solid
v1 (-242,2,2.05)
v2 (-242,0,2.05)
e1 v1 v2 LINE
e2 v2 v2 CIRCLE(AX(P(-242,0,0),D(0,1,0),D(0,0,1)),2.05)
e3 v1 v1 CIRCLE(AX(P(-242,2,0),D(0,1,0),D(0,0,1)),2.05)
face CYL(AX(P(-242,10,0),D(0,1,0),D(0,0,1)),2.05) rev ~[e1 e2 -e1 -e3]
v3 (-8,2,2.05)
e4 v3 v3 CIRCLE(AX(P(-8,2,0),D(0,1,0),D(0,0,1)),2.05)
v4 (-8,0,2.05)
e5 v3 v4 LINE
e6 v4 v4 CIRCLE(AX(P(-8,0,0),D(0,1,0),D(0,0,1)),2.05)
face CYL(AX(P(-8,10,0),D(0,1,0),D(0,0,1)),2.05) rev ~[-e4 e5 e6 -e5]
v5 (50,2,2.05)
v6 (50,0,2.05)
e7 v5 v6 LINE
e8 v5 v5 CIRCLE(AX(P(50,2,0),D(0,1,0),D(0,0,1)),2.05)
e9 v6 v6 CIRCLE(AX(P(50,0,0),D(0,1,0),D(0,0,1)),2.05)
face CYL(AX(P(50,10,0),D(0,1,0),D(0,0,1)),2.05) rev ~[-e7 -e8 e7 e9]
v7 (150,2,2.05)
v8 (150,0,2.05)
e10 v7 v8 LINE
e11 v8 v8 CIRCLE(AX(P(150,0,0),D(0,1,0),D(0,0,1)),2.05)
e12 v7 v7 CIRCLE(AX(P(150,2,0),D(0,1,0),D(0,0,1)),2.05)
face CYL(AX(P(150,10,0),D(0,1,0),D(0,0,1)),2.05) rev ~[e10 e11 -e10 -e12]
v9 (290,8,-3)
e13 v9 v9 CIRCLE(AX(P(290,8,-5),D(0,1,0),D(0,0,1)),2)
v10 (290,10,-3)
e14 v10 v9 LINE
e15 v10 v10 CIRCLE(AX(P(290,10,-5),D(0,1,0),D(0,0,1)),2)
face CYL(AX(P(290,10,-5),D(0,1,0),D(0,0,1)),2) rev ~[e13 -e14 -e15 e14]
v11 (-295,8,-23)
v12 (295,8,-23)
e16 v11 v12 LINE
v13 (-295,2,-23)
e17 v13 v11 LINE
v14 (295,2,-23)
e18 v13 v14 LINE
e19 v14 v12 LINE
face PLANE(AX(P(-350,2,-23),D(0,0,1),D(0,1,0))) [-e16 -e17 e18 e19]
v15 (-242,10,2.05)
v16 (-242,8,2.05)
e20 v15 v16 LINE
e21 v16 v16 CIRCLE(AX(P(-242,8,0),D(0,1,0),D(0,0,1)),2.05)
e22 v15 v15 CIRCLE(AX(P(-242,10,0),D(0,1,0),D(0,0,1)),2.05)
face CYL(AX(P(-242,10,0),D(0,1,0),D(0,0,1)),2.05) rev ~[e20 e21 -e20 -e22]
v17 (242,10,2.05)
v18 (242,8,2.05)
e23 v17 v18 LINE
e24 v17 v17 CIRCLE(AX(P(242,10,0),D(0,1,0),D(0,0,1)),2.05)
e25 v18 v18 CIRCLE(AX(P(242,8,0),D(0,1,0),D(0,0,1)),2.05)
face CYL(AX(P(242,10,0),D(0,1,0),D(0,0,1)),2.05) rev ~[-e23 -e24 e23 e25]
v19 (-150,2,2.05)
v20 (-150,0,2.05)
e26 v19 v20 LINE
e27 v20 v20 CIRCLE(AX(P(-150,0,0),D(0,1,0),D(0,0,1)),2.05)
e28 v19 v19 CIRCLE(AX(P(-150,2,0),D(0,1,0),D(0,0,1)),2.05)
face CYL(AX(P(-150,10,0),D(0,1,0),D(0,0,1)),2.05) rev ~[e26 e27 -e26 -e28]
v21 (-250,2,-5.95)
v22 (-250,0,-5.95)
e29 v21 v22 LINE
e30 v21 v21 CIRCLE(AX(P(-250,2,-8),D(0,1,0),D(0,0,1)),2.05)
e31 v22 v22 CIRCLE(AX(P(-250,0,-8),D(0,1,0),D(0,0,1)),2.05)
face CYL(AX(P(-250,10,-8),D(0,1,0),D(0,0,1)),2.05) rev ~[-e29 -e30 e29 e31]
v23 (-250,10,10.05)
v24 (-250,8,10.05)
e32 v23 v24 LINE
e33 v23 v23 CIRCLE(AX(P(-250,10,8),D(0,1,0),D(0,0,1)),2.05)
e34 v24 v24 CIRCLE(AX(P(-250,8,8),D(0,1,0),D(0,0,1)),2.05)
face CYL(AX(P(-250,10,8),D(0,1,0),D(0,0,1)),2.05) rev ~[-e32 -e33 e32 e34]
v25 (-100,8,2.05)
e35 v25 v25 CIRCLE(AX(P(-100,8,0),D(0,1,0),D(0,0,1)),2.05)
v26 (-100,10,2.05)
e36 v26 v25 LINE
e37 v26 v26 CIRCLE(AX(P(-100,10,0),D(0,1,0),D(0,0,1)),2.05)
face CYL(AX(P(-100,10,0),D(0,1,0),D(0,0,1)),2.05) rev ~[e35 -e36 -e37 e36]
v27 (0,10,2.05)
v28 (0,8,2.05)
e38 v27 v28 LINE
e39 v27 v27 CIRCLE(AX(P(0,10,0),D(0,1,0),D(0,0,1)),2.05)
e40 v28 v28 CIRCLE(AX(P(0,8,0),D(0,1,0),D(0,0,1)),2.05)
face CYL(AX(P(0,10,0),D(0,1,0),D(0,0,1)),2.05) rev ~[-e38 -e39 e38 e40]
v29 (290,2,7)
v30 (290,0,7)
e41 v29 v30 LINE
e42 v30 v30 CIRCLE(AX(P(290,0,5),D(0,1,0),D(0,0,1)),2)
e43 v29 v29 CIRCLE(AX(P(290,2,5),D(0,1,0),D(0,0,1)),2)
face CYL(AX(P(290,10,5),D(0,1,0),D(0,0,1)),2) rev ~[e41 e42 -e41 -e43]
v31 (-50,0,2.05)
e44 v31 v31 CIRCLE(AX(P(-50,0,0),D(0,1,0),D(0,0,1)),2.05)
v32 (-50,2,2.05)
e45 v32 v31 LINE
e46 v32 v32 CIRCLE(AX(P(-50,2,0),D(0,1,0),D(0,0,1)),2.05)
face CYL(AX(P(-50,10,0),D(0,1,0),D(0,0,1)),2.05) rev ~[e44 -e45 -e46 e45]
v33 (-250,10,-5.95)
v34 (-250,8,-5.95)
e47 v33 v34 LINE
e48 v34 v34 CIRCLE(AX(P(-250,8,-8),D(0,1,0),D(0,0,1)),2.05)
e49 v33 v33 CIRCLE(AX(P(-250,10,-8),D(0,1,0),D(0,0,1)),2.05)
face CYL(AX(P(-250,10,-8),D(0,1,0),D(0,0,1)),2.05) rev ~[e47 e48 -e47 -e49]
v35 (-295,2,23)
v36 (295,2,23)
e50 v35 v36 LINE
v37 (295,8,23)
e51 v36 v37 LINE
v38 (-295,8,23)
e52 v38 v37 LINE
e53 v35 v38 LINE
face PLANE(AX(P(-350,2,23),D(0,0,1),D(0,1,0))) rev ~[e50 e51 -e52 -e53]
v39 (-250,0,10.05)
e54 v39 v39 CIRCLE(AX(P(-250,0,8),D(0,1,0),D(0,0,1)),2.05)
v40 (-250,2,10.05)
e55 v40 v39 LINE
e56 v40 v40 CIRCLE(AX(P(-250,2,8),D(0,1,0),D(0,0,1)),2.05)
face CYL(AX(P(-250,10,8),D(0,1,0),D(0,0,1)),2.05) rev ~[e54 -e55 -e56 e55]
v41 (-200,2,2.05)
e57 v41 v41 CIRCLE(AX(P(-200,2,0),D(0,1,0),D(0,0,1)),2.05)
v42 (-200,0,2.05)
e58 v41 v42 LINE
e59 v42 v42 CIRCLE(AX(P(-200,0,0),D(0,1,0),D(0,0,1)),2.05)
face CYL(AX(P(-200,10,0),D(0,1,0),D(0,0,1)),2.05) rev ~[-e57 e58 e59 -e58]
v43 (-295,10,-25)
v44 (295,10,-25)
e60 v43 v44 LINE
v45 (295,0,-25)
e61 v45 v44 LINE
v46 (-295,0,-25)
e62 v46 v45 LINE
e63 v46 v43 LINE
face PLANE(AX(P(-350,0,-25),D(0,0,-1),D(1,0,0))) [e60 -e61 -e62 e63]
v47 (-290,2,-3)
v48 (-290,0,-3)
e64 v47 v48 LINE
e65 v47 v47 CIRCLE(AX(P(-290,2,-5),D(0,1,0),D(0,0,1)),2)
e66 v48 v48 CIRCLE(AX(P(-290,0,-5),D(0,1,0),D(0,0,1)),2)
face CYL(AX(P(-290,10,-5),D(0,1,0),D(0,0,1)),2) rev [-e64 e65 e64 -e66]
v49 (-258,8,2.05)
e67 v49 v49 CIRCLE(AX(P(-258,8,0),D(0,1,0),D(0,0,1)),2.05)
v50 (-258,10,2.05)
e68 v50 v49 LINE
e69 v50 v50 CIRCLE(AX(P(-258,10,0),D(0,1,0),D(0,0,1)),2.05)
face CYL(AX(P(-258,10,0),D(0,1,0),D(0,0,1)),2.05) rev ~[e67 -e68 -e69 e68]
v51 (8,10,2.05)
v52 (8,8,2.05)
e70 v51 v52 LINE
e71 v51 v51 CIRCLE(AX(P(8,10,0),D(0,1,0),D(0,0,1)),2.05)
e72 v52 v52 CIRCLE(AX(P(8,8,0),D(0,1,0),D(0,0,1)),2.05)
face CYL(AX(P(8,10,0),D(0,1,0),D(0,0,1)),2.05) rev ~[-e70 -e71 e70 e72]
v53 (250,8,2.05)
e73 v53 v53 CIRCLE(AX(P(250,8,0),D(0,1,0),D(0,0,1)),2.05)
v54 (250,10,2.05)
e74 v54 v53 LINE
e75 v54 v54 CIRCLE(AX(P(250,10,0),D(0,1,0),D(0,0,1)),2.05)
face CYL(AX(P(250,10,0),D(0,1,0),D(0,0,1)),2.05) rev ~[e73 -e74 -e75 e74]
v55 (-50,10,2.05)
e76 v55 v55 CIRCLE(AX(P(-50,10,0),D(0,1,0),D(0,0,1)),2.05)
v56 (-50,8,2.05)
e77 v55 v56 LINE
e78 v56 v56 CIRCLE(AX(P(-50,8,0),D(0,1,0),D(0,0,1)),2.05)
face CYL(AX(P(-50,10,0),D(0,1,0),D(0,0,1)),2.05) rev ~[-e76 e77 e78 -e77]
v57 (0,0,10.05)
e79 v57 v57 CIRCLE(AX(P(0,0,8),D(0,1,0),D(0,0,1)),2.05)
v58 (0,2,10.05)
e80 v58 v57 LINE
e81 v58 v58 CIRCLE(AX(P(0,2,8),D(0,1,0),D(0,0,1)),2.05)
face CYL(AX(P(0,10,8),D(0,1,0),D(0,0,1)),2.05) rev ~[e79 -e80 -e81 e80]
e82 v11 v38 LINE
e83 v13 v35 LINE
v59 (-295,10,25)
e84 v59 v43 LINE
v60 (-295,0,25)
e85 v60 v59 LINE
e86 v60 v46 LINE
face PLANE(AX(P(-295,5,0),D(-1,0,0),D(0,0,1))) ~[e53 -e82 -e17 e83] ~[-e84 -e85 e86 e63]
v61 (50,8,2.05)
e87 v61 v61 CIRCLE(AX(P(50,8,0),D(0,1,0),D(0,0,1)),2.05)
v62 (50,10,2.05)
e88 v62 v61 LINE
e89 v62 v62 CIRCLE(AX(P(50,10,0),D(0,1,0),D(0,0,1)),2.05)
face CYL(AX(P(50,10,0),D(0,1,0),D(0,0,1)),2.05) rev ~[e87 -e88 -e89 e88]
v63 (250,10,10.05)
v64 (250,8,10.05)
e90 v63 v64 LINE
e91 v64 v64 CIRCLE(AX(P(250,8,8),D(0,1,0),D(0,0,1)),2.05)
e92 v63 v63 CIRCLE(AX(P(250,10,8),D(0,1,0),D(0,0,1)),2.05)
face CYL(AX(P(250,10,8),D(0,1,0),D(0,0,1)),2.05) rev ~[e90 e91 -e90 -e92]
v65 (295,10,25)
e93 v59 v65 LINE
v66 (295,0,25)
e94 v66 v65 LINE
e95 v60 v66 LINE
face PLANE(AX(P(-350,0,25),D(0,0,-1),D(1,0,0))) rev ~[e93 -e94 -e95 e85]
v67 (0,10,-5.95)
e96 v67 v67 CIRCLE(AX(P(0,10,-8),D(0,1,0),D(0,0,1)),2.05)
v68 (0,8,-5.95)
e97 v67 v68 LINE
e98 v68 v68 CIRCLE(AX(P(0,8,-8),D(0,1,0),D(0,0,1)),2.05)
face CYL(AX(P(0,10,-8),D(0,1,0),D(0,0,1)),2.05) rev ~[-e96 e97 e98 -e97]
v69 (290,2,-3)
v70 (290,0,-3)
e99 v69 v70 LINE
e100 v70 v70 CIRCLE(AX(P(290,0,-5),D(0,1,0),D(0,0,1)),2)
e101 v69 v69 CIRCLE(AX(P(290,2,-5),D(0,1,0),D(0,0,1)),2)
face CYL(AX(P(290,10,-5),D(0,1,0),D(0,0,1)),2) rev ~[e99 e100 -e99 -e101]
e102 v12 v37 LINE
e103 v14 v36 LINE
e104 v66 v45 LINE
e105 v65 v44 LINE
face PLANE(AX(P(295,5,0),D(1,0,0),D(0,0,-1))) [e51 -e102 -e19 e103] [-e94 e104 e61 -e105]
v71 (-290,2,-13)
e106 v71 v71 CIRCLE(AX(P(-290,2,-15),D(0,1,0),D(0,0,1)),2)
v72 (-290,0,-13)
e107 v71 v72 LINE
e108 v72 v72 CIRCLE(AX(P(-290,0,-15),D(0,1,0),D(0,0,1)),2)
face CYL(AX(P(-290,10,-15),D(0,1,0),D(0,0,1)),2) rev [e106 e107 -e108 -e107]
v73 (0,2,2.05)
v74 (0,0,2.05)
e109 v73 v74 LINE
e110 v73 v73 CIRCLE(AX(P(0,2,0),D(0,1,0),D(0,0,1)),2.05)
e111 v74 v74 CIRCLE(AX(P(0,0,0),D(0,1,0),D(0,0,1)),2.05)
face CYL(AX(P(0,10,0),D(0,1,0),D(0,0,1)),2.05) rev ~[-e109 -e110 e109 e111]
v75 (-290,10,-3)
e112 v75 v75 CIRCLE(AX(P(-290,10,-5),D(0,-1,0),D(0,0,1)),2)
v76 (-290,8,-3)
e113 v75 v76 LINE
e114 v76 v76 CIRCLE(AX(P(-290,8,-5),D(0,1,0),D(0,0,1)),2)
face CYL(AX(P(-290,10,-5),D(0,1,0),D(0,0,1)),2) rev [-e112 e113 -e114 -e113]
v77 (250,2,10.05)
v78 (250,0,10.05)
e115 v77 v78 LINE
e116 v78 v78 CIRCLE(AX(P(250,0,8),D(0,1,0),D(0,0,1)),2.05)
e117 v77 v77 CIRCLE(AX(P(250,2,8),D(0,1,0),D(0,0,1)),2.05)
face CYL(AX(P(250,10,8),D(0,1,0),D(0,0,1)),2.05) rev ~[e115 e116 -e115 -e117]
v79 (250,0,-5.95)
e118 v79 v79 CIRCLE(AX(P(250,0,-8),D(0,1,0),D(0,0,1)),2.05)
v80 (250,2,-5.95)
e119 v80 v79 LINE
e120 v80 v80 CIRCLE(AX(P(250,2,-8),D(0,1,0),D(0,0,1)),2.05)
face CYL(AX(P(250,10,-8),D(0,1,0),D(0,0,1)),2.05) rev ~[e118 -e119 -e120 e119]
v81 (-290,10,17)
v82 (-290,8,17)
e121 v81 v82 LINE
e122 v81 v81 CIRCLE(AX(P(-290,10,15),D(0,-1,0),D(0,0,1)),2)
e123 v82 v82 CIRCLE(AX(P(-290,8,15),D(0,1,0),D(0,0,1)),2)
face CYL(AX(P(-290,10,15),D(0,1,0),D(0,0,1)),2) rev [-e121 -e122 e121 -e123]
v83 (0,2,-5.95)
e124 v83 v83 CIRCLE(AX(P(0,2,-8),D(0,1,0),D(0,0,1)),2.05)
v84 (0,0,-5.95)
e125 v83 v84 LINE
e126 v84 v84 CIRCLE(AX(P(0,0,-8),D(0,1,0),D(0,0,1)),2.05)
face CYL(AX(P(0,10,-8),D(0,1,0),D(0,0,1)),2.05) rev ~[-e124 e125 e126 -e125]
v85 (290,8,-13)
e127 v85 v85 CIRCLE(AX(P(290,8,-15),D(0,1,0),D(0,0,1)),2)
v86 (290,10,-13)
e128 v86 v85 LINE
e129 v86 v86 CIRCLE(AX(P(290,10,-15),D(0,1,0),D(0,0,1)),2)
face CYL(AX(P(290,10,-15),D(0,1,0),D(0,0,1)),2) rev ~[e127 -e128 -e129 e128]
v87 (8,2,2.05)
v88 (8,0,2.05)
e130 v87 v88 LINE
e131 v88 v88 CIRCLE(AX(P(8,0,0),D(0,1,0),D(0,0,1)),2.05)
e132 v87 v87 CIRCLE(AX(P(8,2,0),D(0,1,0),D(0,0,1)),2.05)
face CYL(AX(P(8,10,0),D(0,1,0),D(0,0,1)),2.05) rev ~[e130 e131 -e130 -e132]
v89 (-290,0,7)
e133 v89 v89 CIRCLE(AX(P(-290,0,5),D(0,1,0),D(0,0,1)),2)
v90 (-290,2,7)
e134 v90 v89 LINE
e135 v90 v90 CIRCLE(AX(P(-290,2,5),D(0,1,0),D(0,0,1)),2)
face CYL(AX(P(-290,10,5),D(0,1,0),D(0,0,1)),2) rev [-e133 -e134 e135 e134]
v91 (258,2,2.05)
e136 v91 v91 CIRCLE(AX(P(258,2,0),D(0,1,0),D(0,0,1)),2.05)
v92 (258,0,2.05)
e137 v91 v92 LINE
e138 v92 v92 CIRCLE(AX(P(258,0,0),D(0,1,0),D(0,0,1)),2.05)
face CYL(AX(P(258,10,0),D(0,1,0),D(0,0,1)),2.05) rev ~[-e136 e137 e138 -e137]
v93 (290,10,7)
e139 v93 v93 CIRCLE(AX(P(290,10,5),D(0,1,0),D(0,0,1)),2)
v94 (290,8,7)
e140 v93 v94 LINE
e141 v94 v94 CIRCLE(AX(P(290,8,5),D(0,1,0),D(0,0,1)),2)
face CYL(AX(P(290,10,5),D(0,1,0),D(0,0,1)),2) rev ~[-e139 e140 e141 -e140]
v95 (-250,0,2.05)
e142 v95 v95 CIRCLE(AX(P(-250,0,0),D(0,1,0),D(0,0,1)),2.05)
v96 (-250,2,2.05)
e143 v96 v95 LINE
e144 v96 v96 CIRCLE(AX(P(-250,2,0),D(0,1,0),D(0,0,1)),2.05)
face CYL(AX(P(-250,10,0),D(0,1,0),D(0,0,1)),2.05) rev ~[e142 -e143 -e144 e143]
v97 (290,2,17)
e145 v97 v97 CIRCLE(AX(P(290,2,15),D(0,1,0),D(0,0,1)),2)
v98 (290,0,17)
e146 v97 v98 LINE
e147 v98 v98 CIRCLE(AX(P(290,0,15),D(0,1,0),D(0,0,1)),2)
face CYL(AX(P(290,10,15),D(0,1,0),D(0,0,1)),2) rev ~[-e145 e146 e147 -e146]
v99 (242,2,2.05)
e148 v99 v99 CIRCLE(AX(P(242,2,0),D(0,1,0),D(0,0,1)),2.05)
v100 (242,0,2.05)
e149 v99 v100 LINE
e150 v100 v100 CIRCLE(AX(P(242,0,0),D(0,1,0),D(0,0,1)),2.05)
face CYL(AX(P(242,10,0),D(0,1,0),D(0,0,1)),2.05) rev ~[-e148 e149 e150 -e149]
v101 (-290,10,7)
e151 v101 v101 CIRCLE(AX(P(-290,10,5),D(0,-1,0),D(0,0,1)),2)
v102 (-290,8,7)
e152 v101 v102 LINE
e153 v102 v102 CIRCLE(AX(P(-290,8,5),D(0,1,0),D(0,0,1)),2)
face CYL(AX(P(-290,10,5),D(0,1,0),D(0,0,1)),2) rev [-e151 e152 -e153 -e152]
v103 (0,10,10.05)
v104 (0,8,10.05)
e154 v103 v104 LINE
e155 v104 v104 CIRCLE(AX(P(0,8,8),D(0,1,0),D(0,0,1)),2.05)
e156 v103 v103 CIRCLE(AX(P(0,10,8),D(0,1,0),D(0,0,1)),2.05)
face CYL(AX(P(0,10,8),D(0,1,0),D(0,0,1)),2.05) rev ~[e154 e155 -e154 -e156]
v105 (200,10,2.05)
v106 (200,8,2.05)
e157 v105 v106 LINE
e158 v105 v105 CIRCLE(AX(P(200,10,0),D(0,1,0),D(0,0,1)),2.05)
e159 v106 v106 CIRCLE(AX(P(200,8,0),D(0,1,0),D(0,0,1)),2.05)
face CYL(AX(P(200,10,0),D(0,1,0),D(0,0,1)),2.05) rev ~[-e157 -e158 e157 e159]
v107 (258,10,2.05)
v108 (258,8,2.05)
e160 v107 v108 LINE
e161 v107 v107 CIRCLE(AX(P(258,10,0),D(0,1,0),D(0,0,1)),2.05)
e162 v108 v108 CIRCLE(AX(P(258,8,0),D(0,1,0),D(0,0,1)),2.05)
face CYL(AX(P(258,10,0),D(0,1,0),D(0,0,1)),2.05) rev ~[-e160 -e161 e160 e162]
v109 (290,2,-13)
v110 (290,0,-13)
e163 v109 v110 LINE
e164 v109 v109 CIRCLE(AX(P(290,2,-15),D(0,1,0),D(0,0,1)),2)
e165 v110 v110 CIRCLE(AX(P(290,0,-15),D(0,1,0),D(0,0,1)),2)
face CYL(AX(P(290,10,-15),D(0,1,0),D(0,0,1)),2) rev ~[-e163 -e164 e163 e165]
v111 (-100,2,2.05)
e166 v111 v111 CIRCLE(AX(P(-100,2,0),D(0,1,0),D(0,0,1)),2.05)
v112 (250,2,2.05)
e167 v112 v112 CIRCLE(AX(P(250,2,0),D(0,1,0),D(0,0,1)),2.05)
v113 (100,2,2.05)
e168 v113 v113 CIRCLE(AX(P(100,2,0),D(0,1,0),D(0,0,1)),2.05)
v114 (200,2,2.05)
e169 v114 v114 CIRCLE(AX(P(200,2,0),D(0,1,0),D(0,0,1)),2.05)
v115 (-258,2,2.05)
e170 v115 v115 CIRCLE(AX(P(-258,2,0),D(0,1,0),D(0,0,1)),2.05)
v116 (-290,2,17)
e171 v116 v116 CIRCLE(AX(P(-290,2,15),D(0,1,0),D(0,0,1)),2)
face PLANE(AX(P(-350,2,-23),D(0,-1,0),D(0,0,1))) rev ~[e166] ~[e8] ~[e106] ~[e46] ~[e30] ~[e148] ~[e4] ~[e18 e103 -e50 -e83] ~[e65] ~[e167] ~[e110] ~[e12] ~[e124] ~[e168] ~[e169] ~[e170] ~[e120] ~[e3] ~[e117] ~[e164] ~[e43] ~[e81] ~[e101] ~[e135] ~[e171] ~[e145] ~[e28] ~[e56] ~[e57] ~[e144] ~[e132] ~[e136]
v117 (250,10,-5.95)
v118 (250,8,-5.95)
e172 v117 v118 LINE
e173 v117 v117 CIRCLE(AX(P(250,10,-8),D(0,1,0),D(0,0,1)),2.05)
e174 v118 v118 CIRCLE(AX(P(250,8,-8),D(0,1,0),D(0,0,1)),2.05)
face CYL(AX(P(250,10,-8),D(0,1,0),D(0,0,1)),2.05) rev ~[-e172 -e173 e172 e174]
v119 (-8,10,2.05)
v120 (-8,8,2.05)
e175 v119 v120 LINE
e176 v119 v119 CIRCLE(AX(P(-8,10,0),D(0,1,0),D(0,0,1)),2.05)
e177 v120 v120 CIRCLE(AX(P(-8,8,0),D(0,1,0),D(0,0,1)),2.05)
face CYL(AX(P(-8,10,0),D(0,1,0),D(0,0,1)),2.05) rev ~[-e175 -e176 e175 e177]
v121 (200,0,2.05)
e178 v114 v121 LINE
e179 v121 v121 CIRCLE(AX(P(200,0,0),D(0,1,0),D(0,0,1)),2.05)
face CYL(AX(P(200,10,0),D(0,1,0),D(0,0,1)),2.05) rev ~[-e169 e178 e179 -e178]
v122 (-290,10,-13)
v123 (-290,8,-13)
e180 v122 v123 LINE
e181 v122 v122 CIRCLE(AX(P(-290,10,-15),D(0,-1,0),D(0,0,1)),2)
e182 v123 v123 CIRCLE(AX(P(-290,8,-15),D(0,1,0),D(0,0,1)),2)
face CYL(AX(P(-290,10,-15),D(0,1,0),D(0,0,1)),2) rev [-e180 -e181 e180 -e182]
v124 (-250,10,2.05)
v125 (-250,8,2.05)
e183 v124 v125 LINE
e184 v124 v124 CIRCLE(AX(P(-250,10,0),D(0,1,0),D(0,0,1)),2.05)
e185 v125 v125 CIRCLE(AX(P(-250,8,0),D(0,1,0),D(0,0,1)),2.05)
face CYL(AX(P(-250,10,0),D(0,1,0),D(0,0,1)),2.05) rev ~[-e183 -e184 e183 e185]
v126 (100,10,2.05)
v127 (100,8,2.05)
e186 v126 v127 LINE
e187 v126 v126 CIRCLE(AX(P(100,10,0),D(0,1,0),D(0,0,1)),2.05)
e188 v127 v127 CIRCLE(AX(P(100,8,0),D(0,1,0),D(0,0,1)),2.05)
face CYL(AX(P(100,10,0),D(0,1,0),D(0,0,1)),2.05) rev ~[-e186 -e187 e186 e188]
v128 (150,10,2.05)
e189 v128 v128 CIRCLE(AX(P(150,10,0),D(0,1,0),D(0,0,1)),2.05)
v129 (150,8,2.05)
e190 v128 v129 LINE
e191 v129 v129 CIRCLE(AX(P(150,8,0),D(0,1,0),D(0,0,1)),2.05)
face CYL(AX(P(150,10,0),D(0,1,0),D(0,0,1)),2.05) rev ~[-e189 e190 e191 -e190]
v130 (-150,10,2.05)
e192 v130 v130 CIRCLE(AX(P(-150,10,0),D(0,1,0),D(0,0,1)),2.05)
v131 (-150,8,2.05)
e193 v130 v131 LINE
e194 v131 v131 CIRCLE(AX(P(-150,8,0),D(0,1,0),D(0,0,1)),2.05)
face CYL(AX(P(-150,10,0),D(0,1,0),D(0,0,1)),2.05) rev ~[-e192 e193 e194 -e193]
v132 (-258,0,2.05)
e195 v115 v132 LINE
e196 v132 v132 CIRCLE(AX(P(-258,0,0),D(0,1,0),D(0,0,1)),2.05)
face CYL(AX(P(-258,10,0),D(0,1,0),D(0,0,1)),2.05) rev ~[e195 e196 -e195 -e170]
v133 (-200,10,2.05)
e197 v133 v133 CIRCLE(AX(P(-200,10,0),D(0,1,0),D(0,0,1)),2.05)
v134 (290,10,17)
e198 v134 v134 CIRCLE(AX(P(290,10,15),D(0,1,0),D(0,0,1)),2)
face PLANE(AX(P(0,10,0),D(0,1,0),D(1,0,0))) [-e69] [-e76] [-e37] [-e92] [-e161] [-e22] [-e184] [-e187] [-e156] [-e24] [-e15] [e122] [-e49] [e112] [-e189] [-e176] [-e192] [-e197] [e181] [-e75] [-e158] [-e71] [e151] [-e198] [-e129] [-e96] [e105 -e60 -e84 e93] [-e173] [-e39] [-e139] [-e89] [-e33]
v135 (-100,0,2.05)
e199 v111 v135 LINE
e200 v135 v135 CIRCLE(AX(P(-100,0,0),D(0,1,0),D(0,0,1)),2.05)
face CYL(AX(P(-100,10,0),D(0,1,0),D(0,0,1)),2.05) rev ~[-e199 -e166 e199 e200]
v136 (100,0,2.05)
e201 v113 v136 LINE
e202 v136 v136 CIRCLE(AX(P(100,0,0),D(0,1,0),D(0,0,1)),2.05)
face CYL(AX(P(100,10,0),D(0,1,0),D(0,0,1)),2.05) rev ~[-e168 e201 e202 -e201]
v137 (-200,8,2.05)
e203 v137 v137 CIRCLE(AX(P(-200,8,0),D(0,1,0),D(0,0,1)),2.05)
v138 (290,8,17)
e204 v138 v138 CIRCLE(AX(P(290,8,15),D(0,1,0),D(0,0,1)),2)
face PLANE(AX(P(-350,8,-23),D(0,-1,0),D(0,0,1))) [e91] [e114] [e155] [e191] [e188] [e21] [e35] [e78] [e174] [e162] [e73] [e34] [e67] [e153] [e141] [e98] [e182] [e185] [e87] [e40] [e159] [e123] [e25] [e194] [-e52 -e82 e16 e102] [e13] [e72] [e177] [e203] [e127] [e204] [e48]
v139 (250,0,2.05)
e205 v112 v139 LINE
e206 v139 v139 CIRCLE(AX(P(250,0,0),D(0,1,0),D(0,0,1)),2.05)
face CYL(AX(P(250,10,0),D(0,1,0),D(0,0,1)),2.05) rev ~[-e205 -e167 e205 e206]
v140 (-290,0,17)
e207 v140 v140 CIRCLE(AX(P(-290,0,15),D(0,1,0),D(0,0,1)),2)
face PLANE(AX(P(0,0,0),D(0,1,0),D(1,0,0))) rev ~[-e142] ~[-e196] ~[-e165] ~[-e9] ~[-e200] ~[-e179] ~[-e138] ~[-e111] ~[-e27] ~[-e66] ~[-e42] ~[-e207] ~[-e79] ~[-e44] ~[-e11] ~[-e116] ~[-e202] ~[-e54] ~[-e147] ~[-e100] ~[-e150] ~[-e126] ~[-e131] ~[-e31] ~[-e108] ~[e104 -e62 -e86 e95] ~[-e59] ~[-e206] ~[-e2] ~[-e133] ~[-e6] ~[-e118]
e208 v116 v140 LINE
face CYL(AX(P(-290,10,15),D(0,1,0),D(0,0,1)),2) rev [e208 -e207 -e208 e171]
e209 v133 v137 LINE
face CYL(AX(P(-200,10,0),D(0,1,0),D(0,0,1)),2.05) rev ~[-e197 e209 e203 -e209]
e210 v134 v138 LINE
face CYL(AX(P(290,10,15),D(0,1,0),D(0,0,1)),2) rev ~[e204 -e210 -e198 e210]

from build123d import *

# Parameters (mm, degrees)
SKETCH_1_W          = 700
SKETCH_1_H          = 50
EXTRUDE_1_DEPTH     = 10
SKETCH_2_R          = 2.05
CUT_EXTRUDE_2_DEPTH = 352.034186369
SKETCH_3_R          = 2.05
CUT_EXTRUDE_3_DEPTH = 352.034186369
SKETCH_4_W          = 46
SKETCH_4_H          = 6
CUT_EXTRUDE_4_DEPTH = 701.51766573
SKETCH_6_W          = 50
SKETCH_6_H          = 10
CUT_EXTRUDE_6_DEPTH = 5
SKETCH_7_R          = 2
CUT_EXTRUDE_7_DEPTH = 347.04912946
SKETCH_8_W          = 50
SKETCH_8_H          = 10
CUT_EXTRUDE_8_DEPTH = 50


with BuildPart() as part:
    # 草图1 → 凸台-拉伸1 (new body)
    with BuildSketch(Plane(origin=(0, 0, 0), x_dir=(1, 0, 0), z_dir=(0, 1, 0))):
        Rectangle(SKETCH_1_W, SKETCH_1_H)
    extrude(amount=EXTRUDE_1_DEPTH)

    # 草图2 → 切除-拉伸2 (cut, through all)
    with BuildSketch(Plane(origin=(0, 10, 0), x_dir=(1, 0, 0), z_dir=(0, 1, 0))):
        with Locations(Location((-300, 0, 0), (0, 0, 270))):
            Circle(SKETCH_2_R)
        with Locations(Location((-250, 0, 0), (0, 0, 270))):
            Circle(SKETCH_2_R)
        with Locations(Location((-200, 0, 0), (0, 0, 270))):
            Circle(SKETCH_2_R)
        with Locations(Location((-150, 0, 0), (0, 0, 270))):
            Circle(SKETCH_2_R)
        with Locations(Location((-100, 0, 0), (0, 0, 270))):
            Circle(SKETCH_2_R)
        with Locations(Location((-50, 0, 0), (0, 0, 270))):
            Circle(SKETCH_2_R)
        with Locations(Location((0, 0, 0), (0, 0, 270))):
            Circle(SKETCH_2_R)
        with Locations(Location((50, 0, 0), (0, 0, 270))):
            Circle(SKETCH_2_R)
        with Locations(Location((100, 0, 0), (0, 0, 270))):
            Circle(SKETCH_2_R)
        with Locations(Location((150, 0, 0), (0, 0, 270))):
            Circle(SKETCH_2_R)
        with Locations(Location((200, 0, 0), (0, 0, 270))):
            Circle(SKETCH_2_R)
        with Locations(Location((250, 0, 0), (0, 0, 270))):
            Circle(SKETCH_2_R)
        with Locations(Location((300, 0, 0), (0, 0, 270))):
            Circle(SKETCH_2_R)
    extrude(amount=-CUT_EXTRUDE_2_DEPTH, mode=Mode.SUBTRACT)

    # 草图3 → 切除-拉伸3 (cut, through all)
    with BuildSketch(Plane(origin=(0, 10, 0), x_dir=(1, 0, 0), z_dir=(0, 1, 0))):
        with Locations(Location((-242, 0, 0), (0, 0, 270))):
            Circle(SKETCH_3_R)
        with Locations(Location((-258, 0, 0), (0, 0, 270))):
            Circle(SKETCH_3_R)
        with Locations(Location((-8, 0, 0), (0, 0, 270))):
            Circle(SKETCH_3_R)
        with Locations(Location((8, 0, 0), (0, 0, 270))):
            Circle(SKETCH_3_R)
        with Locations(Location((242, 0, 0), (0, 0, 270))):
            Circle(SKETCH_3_R)
        with Locations(Location((258, 0, 0), (0, 0, 270))):
            Circle(SKETCH_3_R)
        with Locations(Location((-250, 8, 0), (0, 0, 270))):
            Circle(SKETCH_3_R)
        with Locations(Location((-250, -8, 0), (0, 0, 270))):
            Circle(SKETCH_3_R)
        with Locations(Location((0, 8, 0), (0, 0, 270))):
            Circle(SKETCH_3_R)
        with Locations(Location((0, -8, 0), (0, 0, 270))):
            Circle(SKETCH_3_R)
        with Locations(Location((250, 8, 0), (0, 0, 270))):
            Circle(SKETCH_3_R)
        with Locations(Location((250, -8, 0), (0, 0, 270))):
            Circle(SKETCH_3_R)
    extrude(amount=-CUT_EXTRUDE_3_DEPTH, mode=Mode.SUBTRACT)

    # 草图4 → 切除-拉伸4 (cut, through all)
    with BuildSketch(Plane.ZY.offset(350)):
        with Locations((0, 5)):
            Rectangle(SKETCH_4_W, SKETCH_4_H)
    extrude(amount=-CUT_EXTRUDE_4_DEPTH, mode=Mode.SUBTRACT)

    # 草图6 → 切除-拉伸6 (cut)
    with BuildSketch(Plane(origin=(350, 0, 0), x_dir=(0, 0, -1), z_dir=(1, 0, 0))):
        with Locations((0, 5)):
            Rectangle(SKETCH_6_W, SKETCH_6_H)
    cut_extrude_6 = extrude(amount=-CUT_EXTRUDE_6_DEPTH, mode=Mode.SUBTRACT)

    # 镜向1: 切除-拉伸6 across plane
    add(cut_extrude_6.mirror(Plane(origin=(0, 0, 0), x_dir=(0, 0, 1), z_dir=(1, 0, 0))), mode=Mode.SUBTRACT)

    # 草图7 → 切除-拉伸7 (cut, through all)
    with BuildSketch(Plane(origin=(0, 10, 0), x_dir=(1, 0, 0), z_dir=(0, 1, 0))):
        with Locations(Location((340, 15, 0), (0, 0, 270))):
            Circle(SKETCH_7_R)
        with Locations(Location((340, 5, 0), (0, 0, 270))):
            Circle(SKETCH_7_R)
        with Locations(Location((340, -5, 0), (0, 0, 270))):
            Circle(SKETCH_7_R)
        with Locations(Location((340, -15, 0), (0, 0, 270))):
            Circle(SKETCH_7_R)
        with Locations(Location((290, 5, 0), (0, 0, 270))):
            Circle(SKETCH_7_R)
        with Locations(Location((290, 15, 0), (0, 0, 270))):
            Circle(SKETCH_7_R)
        with Locations(Location((290, -5, 0), (0, 0, 270))):
            Circle(SKETCH_7_R)
        with Locations(Location((290, -15, 0), (0, 0, 270))):
            Circle(SKETCH_7_R)
    cut_extrude_7 = extrude(amount=-CUT_EXTRUDE_7_DEPTH, mode=Mode.SUBTRACT)

    # 镜向2: 切除-拉伸7 across plane
    add(cut_extrude_7.mirror(Plane(origin=(0, 0, 0), x_dir=(0, 0, 1), z_dir=(1, 0, 0))), mode=Mode.SUBTRACT)

    # 草图8 → 切除-拉伸8 (cut)
    with BuildSketch(Plane(origin=(345, 0, 0), x_dir=(0, 0, -1), z_dir=(1, 0, 0))):
        with Locations((0, 5)):
            Rectangle(SKETCH_8_W, SKETCH_8_H)
    cut_extrude_8 = extrude(amount=-CUT_EXTRUDE_8_DEPTH, mode=Mode.SUBTRACT)

    # 镜向3: 切除-拉伸8 across plane
    add(cut_extrude_8.mirror(Plane(origin=(0, 0, 0), x_dir=(0, 0, 1), z_dir=(1, 0, 0))), mode=Mode.SUBTRACT)


solid = part.part
